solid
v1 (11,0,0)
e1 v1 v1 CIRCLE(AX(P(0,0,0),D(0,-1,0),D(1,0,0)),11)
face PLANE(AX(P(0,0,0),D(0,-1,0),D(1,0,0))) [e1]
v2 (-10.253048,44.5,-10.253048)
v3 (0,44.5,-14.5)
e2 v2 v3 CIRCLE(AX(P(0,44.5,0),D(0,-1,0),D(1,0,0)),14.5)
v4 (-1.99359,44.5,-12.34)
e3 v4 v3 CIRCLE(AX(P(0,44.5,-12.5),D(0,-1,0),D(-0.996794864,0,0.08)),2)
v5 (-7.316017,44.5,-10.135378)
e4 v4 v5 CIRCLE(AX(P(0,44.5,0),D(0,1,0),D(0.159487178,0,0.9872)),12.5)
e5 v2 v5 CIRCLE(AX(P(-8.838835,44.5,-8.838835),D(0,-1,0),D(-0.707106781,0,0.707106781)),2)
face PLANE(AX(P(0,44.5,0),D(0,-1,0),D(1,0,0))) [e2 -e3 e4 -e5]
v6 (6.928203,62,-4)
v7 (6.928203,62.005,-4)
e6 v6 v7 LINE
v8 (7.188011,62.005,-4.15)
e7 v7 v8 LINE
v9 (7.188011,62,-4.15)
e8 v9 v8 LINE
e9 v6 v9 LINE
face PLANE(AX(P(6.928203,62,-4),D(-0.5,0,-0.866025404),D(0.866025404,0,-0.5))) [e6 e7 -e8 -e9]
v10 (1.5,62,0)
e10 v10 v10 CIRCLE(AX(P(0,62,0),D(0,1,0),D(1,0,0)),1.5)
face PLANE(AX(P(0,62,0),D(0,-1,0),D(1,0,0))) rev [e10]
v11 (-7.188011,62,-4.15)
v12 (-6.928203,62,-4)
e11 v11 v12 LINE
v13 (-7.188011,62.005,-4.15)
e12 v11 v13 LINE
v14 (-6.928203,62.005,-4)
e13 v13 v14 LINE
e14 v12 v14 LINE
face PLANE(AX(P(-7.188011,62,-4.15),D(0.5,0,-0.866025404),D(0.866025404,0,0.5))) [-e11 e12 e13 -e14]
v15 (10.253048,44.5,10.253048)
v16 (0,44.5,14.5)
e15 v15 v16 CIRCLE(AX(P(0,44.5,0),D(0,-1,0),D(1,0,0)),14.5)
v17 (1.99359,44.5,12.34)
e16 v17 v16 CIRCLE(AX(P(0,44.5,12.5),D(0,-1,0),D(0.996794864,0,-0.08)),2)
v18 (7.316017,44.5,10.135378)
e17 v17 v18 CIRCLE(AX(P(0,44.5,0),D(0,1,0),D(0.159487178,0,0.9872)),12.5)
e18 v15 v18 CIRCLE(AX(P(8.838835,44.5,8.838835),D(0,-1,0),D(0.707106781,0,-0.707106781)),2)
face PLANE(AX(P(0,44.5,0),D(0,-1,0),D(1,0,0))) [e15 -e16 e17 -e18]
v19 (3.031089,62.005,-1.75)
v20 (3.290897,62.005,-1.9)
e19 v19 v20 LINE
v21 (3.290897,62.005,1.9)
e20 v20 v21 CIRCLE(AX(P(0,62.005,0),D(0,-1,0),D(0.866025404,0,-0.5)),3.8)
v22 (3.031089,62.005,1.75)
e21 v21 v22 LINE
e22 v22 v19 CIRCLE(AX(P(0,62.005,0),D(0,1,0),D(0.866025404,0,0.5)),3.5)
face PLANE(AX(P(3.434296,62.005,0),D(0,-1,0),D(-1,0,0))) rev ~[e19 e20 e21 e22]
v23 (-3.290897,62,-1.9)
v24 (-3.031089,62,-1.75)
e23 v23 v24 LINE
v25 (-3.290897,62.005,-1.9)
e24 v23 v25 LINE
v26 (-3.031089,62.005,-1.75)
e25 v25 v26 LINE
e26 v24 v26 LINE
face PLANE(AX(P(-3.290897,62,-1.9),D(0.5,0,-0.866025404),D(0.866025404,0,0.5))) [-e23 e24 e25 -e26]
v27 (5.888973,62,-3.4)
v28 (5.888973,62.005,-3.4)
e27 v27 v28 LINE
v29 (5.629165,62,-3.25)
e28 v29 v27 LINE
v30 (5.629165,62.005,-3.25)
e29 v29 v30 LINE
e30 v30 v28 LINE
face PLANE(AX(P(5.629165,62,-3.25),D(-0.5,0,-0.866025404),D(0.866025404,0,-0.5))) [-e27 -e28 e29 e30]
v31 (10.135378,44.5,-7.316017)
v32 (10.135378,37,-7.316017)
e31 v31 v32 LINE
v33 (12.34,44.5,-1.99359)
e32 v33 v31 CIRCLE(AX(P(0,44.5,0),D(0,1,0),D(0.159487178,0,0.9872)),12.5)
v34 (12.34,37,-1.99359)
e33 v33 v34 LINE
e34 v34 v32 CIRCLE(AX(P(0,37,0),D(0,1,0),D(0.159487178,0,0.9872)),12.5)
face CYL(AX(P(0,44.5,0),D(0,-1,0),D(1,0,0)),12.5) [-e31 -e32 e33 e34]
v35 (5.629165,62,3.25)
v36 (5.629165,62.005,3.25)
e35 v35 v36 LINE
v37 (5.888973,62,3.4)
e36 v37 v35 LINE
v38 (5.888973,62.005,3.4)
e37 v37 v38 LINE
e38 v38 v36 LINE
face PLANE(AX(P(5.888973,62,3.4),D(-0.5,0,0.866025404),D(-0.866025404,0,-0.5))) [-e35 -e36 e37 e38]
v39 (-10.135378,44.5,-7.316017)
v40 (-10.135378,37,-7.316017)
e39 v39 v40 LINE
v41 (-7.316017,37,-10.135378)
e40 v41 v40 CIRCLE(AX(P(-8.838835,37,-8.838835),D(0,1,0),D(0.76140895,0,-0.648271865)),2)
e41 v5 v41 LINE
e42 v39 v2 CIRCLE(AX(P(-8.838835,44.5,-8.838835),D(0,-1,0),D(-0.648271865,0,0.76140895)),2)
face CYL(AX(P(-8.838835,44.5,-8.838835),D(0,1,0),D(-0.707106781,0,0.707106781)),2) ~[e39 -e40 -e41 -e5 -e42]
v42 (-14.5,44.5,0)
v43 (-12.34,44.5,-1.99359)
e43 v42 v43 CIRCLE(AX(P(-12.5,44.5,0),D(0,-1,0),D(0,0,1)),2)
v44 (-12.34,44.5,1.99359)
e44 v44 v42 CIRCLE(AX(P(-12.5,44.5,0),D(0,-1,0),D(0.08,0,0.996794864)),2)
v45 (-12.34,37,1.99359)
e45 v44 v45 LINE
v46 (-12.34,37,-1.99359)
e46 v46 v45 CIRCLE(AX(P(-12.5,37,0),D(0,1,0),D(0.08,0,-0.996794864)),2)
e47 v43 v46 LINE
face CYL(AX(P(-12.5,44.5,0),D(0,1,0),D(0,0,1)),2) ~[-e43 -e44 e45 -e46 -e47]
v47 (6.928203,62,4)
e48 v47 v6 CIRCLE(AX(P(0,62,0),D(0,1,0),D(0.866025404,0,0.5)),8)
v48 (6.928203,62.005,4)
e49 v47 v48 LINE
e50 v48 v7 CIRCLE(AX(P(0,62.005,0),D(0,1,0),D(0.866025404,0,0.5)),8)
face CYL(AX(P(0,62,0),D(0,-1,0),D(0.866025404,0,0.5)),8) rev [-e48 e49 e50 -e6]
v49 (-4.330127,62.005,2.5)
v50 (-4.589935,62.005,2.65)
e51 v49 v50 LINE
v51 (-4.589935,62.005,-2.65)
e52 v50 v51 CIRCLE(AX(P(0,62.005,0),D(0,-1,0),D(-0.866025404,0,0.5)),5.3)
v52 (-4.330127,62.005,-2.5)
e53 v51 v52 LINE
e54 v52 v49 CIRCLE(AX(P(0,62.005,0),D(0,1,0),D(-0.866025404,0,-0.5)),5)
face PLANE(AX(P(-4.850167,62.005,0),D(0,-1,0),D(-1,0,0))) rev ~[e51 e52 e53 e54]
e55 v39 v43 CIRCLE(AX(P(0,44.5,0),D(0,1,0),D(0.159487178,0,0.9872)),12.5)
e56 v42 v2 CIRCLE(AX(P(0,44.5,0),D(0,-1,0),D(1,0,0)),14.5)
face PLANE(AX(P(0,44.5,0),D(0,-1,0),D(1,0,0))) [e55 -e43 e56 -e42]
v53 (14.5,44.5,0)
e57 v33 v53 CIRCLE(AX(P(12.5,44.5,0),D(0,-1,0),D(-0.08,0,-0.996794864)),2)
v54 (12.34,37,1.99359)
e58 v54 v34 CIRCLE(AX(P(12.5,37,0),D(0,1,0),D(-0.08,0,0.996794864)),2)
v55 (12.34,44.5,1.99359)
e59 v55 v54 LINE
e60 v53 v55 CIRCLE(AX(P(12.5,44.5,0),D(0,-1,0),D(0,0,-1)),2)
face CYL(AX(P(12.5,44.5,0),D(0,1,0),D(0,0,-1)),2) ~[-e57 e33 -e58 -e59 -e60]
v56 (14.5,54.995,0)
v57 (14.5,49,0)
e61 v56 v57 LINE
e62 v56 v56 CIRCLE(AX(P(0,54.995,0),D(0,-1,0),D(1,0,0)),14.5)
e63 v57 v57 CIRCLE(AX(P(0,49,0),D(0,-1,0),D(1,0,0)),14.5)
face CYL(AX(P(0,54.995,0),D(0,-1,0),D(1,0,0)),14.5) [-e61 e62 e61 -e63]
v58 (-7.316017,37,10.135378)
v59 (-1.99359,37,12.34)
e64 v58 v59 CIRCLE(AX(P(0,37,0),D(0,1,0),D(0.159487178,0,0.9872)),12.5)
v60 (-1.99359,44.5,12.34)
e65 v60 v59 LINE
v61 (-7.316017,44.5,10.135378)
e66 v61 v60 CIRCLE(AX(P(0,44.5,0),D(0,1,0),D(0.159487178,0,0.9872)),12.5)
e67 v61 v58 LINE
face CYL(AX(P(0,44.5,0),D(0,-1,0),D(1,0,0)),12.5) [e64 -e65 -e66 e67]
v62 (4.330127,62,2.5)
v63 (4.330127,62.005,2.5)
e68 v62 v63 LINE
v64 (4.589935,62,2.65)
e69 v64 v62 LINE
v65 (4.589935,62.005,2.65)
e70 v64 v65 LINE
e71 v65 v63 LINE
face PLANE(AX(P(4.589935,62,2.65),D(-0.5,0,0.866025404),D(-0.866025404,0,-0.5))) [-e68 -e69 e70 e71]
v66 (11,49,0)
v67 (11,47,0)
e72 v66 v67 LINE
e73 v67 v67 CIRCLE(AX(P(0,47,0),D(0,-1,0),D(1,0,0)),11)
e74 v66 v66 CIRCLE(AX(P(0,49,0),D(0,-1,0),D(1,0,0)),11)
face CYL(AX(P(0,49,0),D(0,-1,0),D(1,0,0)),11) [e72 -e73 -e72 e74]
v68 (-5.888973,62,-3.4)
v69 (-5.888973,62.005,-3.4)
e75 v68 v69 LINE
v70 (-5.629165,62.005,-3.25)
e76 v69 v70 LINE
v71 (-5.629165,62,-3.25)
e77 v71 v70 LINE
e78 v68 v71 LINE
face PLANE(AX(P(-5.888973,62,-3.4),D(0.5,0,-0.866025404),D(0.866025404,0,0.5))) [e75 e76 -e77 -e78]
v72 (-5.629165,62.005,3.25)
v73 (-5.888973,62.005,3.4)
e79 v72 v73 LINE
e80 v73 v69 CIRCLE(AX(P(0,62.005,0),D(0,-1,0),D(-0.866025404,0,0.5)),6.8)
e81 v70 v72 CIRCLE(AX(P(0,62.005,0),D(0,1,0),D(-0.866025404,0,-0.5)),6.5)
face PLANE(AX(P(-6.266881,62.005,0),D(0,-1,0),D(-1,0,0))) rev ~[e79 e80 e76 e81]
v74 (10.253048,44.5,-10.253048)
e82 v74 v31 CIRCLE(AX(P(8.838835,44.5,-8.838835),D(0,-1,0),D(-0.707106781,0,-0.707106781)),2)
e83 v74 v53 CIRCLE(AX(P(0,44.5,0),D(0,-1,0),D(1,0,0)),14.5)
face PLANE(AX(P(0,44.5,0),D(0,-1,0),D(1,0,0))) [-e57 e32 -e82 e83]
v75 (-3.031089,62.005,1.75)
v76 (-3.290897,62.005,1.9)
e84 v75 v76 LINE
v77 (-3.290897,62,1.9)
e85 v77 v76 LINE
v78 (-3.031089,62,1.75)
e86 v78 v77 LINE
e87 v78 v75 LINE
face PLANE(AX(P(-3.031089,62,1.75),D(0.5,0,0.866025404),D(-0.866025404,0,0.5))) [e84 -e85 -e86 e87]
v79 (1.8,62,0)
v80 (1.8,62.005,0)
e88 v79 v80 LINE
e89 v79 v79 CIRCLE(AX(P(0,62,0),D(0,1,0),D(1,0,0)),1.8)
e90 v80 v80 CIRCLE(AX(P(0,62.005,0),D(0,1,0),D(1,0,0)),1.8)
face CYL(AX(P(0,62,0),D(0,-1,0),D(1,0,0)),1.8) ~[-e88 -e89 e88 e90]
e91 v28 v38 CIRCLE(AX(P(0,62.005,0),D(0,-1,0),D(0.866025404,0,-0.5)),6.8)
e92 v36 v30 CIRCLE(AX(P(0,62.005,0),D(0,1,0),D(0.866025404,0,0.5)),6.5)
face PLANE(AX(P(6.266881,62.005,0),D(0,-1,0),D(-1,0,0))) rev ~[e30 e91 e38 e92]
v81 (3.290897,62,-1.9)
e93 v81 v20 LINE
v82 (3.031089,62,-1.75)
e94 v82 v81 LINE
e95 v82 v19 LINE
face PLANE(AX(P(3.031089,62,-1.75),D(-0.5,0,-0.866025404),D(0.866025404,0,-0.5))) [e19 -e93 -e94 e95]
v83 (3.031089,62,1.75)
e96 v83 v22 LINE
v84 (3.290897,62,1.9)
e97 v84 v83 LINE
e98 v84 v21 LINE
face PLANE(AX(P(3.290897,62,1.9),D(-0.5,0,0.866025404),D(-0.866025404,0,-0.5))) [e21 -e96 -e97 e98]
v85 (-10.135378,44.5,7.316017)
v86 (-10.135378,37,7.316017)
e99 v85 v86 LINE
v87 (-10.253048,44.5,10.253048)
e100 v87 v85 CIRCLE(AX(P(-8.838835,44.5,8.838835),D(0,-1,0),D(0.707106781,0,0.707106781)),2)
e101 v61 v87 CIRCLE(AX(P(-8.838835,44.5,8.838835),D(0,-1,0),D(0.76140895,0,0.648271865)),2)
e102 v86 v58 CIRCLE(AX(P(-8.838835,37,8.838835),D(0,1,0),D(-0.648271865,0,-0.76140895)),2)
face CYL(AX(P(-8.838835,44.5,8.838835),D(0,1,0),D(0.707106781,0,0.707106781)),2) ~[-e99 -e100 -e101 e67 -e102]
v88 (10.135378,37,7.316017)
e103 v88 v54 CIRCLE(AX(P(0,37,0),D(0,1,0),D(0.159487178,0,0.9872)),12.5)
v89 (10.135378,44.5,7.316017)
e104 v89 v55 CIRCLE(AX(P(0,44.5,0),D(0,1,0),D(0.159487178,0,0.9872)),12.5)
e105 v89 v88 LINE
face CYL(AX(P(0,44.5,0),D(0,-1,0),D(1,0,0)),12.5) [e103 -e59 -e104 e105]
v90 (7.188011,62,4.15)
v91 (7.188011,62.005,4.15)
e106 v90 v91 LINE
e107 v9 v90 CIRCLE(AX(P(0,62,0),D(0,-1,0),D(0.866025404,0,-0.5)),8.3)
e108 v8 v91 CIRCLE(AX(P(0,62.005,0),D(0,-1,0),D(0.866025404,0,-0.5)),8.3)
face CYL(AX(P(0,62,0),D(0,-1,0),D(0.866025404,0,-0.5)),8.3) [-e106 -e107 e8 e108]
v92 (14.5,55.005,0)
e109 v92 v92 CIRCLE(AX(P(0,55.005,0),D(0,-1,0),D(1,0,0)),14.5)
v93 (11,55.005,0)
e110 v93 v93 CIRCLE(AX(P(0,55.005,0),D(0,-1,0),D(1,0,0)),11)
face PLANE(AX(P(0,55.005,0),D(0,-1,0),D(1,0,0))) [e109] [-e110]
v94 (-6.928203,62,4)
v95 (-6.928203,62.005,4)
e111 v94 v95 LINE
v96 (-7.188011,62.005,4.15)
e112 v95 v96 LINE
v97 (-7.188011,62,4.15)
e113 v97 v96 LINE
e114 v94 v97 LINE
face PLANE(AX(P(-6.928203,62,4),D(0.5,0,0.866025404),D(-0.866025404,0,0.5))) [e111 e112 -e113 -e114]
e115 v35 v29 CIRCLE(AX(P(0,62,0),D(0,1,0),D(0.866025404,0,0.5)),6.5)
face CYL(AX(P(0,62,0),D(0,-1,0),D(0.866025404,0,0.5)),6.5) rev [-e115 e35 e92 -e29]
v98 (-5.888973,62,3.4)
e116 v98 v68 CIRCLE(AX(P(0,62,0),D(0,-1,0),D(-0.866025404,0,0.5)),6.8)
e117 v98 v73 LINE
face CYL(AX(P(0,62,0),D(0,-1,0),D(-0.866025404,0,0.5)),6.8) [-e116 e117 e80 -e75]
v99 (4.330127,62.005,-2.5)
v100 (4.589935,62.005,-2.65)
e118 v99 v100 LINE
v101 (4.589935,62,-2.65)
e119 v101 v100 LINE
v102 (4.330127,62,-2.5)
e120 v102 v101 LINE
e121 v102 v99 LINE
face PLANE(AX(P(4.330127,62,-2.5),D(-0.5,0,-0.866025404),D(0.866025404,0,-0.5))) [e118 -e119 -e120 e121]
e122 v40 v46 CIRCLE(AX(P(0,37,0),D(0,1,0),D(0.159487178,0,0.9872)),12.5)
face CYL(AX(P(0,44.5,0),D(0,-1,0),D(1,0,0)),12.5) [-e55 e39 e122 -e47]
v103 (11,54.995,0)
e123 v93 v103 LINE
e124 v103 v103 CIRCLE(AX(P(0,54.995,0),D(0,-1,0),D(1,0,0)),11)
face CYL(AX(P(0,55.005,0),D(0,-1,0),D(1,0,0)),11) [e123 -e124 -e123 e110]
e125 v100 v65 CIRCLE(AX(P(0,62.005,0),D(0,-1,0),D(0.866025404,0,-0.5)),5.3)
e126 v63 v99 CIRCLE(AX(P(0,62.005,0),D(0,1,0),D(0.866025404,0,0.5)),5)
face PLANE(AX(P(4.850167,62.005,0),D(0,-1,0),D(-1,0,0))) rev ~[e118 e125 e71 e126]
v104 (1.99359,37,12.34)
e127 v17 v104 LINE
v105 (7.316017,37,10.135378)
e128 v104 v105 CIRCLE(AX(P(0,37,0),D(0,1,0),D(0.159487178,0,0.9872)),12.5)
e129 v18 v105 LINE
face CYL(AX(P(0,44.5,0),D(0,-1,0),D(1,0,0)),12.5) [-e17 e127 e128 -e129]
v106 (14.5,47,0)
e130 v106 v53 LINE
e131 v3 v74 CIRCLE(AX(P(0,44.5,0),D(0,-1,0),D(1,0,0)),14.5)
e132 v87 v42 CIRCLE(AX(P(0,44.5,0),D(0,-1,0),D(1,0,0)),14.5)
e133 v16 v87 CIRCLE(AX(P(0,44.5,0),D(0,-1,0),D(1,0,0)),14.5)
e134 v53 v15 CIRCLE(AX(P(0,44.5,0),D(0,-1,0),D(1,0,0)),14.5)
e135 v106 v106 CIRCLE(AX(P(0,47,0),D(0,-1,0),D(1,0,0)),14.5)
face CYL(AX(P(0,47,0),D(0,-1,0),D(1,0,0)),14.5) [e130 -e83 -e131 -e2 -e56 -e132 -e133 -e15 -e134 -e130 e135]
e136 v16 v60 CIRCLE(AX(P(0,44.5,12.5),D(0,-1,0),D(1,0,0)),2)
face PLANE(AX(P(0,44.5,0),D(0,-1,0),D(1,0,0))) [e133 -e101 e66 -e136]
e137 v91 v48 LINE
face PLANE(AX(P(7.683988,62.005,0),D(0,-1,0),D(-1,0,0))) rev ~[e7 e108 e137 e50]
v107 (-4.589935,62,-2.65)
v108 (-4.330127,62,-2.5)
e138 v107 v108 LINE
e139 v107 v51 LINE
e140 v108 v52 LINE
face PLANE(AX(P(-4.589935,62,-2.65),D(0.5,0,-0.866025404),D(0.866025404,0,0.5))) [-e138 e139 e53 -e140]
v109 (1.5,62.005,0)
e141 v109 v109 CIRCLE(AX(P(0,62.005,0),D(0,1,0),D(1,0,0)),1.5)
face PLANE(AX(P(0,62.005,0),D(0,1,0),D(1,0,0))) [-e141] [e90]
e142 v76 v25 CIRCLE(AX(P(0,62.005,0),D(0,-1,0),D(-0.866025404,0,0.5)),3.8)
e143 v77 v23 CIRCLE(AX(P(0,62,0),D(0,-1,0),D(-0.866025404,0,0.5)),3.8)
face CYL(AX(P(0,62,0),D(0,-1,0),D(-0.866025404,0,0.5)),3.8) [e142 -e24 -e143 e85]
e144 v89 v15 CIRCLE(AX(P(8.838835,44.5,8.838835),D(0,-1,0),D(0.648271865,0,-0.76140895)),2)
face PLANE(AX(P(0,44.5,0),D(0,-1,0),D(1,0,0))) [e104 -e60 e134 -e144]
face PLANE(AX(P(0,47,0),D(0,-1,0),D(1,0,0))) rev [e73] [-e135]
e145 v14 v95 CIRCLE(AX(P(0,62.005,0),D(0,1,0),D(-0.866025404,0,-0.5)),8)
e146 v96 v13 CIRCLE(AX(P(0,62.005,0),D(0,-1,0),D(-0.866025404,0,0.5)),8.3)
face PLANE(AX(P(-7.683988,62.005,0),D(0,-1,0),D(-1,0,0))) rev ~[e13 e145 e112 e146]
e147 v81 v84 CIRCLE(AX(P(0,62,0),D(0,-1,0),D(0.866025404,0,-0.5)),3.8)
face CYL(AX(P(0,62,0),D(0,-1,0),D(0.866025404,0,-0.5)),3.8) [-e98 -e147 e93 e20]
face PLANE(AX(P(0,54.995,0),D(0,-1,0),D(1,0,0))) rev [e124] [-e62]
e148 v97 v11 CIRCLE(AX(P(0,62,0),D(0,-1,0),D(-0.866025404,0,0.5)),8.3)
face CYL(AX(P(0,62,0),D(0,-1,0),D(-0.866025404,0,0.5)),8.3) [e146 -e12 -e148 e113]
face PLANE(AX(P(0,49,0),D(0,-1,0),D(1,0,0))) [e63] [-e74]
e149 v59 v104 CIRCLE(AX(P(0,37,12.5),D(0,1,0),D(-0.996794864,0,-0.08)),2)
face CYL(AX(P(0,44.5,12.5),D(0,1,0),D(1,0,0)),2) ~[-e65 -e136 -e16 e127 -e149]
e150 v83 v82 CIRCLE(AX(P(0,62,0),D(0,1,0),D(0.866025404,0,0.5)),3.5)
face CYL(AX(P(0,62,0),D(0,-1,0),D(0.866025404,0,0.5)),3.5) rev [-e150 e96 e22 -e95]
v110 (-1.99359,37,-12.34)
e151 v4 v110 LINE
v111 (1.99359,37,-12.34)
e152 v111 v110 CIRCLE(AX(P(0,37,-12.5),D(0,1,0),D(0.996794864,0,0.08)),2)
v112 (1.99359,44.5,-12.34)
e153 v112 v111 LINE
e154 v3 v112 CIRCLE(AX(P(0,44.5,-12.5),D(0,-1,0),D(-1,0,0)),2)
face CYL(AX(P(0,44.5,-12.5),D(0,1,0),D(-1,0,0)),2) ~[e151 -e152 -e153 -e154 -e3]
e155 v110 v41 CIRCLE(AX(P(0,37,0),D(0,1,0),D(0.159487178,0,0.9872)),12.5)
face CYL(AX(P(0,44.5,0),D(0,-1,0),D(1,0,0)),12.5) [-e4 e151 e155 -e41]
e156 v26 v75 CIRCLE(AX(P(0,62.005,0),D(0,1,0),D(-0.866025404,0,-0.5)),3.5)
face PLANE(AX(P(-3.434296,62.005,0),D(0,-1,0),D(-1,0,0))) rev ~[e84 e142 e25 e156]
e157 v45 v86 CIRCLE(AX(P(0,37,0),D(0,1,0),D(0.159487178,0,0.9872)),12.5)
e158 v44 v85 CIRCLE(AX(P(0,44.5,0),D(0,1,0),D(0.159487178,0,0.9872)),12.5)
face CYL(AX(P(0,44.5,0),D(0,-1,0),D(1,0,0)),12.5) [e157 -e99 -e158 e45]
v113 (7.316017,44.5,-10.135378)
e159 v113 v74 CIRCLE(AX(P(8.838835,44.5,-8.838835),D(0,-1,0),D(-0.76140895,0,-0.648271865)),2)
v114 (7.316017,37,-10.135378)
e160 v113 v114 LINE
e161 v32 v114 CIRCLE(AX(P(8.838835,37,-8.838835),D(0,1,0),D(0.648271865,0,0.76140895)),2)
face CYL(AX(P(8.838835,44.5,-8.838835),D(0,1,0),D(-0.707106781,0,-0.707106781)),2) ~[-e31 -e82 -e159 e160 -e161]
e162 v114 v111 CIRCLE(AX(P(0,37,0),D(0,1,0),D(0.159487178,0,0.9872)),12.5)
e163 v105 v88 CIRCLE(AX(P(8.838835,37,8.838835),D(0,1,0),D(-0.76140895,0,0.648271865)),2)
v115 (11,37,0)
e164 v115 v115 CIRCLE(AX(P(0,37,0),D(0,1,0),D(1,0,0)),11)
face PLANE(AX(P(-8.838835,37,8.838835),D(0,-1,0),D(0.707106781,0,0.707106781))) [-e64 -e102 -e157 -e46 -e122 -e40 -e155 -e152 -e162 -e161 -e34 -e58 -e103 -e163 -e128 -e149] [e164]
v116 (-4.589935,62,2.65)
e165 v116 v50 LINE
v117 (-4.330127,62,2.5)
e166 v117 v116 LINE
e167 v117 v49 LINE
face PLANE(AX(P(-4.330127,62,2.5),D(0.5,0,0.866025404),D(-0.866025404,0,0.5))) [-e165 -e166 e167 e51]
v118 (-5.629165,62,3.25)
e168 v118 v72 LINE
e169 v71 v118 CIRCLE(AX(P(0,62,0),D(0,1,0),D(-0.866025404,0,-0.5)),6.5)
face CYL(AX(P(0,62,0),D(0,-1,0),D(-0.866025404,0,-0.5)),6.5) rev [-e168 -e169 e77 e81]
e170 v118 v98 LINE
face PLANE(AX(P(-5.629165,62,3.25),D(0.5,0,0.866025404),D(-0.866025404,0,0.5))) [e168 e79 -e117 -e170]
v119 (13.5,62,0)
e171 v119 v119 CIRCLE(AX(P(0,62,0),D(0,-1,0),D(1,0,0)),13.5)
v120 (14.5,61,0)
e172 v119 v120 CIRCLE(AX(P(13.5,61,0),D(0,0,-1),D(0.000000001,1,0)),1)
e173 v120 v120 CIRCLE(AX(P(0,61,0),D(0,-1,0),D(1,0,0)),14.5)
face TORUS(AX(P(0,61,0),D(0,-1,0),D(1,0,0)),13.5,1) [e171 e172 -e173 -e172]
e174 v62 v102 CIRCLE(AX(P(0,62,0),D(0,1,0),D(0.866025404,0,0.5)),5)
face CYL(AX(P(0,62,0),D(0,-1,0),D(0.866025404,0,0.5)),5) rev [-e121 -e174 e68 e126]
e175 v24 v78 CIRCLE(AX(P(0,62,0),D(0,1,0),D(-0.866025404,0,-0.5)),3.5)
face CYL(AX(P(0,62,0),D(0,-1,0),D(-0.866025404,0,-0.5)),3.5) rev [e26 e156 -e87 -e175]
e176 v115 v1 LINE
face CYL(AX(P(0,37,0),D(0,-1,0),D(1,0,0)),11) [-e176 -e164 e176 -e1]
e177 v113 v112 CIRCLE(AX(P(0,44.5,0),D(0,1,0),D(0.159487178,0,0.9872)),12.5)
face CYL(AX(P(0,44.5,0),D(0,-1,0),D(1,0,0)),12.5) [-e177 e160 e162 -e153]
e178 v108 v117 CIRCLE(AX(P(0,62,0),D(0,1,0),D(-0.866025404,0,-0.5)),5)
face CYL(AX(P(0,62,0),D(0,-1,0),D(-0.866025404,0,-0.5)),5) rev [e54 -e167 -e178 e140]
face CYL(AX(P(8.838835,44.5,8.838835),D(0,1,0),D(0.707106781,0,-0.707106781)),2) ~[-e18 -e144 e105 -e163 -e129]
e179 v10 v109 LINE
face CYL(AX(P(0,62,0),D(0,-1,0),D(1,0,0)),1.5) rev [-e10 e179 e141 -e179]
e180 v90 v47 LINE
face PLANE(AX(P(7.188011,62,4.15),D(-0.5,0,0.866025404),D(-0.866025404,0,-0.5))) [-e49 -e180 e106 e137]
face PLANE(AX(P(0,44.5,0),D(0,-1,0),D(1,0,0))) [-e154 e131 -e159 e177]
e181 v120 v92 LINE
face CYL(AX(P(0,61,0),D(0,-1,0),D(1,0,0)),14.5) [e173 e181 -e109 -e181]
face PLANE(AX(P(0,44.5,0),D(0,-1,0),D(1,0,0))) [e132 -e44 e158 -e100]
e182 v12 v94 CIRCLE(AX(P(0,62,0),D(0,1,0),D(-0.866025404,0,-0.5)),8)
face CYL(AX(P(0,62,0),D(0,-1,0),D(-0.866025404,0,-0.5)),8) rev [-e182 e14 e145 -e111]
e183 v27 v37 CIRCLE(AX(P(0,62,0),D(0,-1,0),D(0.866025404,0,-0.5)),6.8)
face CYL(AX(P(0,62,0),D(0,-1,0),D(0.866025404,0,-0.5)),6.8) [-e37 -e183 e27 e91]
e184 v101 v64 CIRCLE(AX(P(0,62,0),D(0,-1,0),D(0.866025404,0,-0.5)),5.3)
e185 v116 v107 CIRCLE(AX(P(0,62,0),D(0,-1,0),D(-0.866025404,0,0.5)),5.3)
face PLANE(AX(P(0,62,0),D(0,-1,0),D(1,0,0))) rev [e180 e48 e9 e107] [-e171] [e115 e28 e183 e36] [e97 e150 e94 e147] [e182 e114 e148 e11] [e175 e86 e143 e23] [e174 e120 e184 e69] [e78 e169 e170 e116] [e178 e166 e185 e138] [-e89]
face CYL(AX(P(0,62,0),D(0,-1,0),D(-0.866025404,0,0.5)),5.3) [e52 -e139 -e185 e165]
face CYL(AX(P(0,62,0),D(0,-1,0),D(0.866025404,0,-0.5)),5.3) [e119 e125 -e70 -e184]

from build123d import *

# Parameters (mm, degrees)
SKETCH2_R           = 2
BOSS_EXTRUDE1_DEPTH = 7.5
CIRPATTERN1_COUNT   = 8
SKETCH3_R           = 1.8
SKETCH3_R_2         = 1.5
BOSS_EXTRUDE2_DEPTH = 0.005


with BuildPart() as part:
    # Sketch1 → Revolve1 (revolve)
    with BuildSketch(Plane.XY):
        with BuildLine():
            Line((0, 0), (0, 62))
            Line((0, 62), (13.5, 62))
            ThreePointArc((13.5, 62), (14.207106781, 61.707106781), (14.5, 61))
            Line((14.5, 61), (14.5, 55.005))
            Line((14.5, 55.005), (11, 55.005))
            Line((11, 55.005), (11, 54.995))
            Line((11, 54.995), (14.5, 54.995))
            Line((14.5, 54.995), (14.5, 49))
            Line((14.5, 49), (11, 49))
            Line((11, 49), (11, 47))
            Line((11, 47), (14.5, 47))
            Line((14.5, 47), (14.5, 44.5))
            Line((14.5, 44.5), (12.5, 44.5))
            Line((12.5, 44.5), (12.5, 37))
            Line((12.5, 37), (11, 37))
            Line((11, 37), (11, 0))
            Line((11, 0), (0, 0))
        make_face()
    revolve(axis=Axis((0, 0, 0), (0, -1, 0)))

    # Sketch2 → Boss-Extrude1 (add)
    with BuildSketch(Plane.XZ.offset(-44.5)):
        with Locations((0, 12.5)):
            Circle(SKETCH2_R)
    boss_extrude1 = extrude(amount=BOSS_EXTRUDE1_DEPTH)

    # CirPattern1: Boss-Extrude1 ×8 about axis
    cirpattern1_axis = Axis((0, 0, 0), (0, 1, 0))
    for i in range(1, CIRPATTERN1_COUNT):
        add(boss_extrude1.rotate(cirpattern1_axis, i * 360 / CIRPATTERN1_COUNT))

    # Sketch3 → Boss-Extrude2 (add)
    with BuildSketch(Plane(origin=(0, 62, 0), x_dir=(1, 0, 0), z_dir=(0, 1, 0))):
        Circle(SKETCH3_R)
        Circle(SKETCH3_R_2, mode=Mode.SUBTRACT)
        with BuildLine():
            Line((-4.330127019, -2.5), (-4.58993464, -2.65))
            ThreePointArc((-4.58993464, -2.65), (-5.3, 0), (-4.58993464, 2.65))
            Line((-4.58993464, 2.65), (-4.330127019, 2.5))
            ThreePointArc((-4.330127019, 2.5), (-5, 0), (-4.330127019, -2.5))
        make_face()
        with BuildLine():
            Line((-3.031088913, -1.75), (-3.290896534, -1.9))
            ThreePointArc((-3.290896534, -1.9), (-3.8, 0), (-3.290896534, 1.9))
            Line((-3.290896534, 1.9), (-3.031088913, 1.75))
            ThreePointArc((-3.031088913, 1.75), (-3.5, 0), (-3.031088913, -1.75))
        make_face()
        with BuildLine():
            Line((-5.629165125, -3.25), (-5.888972746, -3.4))
            ThreePointArc((-5.888972746, -3.4), (-6.8, 0), (-5.888972746, 3.4))
            Line((-5.888972746, 3.4), (-5.629165125, 3.25))
            ThreePointArc((-5.629165125, 3.25), (-6.5, 0), (-5.629165125, -3.25))
        make_face()
        with BuildLine():
            Line((-6.92820323, -4), (-7.188010851, -4.15))
            ThreePointArc((-7.188010851, -4.15), (-8.3, 0), (-7.188010851, 4.15))
            Line((-7.188010851, 4.15), (-6.92820323, 4))
            ThreePointArc((-6.92820323, 4), (-8, 0), (-6.92820323, -4))
        make_face()
        with BuildLine():
            Line((6.92820323, 4), (7.188010851, 4.15))
            ThreePointArc((7.188010851, 4.15), (8.3, 0), (7.188010851, -4.15))
            Line((7.188010851, -4.15), (6.92820323, -4))
            ThreePointArc((6.92820323, -4), (8, 0), (6.92820323, 4))
        make_face()
        with BuildLine():
            Line((5.629165125, 3.25), (5.888972746, 3.4))
            ThreePointArc((5.888972746, 3.4), (6.8, 0), (5.888972746, -3.4))
            Line((5.888972746, -3.4), (5.629165125, -3.25))
            ThreePointArc((5.629165125, -3.25), (6.5, 0), (5.629165125, 3.25))
        make_face()
        with BuildLine():
            Line((4.330127019, 2.5), (4.58993464, 2.65))
            ThreePointArc((4.58993464, 2.65), (5.3, 0), (4.58993464, -2.65))
            Line((4.58993464, -2.65), (4.330127019, -2.5))
            ThreePointArc((4.330127019, -2.5), (5, 0), (4.330127019, 2.5))
        make_face()
        with BuildLine():
            Line((3.031088913, 1.75), (3.290896534, 1.9))
            ThreePointArc((3.290896534, 1.9), (3.8, 0), (3.290896534, -1.9))
            Line((3.290896534, -1.9), (3.031088913, -1.75))
            ThreePointArc((3.031088913, -1.75), (3.5, 0), (3.031088913, 1.75))
        make_face()
    extrude(amount=BOSS_EXTRUDE2_DEPTH)


solid = part.part
